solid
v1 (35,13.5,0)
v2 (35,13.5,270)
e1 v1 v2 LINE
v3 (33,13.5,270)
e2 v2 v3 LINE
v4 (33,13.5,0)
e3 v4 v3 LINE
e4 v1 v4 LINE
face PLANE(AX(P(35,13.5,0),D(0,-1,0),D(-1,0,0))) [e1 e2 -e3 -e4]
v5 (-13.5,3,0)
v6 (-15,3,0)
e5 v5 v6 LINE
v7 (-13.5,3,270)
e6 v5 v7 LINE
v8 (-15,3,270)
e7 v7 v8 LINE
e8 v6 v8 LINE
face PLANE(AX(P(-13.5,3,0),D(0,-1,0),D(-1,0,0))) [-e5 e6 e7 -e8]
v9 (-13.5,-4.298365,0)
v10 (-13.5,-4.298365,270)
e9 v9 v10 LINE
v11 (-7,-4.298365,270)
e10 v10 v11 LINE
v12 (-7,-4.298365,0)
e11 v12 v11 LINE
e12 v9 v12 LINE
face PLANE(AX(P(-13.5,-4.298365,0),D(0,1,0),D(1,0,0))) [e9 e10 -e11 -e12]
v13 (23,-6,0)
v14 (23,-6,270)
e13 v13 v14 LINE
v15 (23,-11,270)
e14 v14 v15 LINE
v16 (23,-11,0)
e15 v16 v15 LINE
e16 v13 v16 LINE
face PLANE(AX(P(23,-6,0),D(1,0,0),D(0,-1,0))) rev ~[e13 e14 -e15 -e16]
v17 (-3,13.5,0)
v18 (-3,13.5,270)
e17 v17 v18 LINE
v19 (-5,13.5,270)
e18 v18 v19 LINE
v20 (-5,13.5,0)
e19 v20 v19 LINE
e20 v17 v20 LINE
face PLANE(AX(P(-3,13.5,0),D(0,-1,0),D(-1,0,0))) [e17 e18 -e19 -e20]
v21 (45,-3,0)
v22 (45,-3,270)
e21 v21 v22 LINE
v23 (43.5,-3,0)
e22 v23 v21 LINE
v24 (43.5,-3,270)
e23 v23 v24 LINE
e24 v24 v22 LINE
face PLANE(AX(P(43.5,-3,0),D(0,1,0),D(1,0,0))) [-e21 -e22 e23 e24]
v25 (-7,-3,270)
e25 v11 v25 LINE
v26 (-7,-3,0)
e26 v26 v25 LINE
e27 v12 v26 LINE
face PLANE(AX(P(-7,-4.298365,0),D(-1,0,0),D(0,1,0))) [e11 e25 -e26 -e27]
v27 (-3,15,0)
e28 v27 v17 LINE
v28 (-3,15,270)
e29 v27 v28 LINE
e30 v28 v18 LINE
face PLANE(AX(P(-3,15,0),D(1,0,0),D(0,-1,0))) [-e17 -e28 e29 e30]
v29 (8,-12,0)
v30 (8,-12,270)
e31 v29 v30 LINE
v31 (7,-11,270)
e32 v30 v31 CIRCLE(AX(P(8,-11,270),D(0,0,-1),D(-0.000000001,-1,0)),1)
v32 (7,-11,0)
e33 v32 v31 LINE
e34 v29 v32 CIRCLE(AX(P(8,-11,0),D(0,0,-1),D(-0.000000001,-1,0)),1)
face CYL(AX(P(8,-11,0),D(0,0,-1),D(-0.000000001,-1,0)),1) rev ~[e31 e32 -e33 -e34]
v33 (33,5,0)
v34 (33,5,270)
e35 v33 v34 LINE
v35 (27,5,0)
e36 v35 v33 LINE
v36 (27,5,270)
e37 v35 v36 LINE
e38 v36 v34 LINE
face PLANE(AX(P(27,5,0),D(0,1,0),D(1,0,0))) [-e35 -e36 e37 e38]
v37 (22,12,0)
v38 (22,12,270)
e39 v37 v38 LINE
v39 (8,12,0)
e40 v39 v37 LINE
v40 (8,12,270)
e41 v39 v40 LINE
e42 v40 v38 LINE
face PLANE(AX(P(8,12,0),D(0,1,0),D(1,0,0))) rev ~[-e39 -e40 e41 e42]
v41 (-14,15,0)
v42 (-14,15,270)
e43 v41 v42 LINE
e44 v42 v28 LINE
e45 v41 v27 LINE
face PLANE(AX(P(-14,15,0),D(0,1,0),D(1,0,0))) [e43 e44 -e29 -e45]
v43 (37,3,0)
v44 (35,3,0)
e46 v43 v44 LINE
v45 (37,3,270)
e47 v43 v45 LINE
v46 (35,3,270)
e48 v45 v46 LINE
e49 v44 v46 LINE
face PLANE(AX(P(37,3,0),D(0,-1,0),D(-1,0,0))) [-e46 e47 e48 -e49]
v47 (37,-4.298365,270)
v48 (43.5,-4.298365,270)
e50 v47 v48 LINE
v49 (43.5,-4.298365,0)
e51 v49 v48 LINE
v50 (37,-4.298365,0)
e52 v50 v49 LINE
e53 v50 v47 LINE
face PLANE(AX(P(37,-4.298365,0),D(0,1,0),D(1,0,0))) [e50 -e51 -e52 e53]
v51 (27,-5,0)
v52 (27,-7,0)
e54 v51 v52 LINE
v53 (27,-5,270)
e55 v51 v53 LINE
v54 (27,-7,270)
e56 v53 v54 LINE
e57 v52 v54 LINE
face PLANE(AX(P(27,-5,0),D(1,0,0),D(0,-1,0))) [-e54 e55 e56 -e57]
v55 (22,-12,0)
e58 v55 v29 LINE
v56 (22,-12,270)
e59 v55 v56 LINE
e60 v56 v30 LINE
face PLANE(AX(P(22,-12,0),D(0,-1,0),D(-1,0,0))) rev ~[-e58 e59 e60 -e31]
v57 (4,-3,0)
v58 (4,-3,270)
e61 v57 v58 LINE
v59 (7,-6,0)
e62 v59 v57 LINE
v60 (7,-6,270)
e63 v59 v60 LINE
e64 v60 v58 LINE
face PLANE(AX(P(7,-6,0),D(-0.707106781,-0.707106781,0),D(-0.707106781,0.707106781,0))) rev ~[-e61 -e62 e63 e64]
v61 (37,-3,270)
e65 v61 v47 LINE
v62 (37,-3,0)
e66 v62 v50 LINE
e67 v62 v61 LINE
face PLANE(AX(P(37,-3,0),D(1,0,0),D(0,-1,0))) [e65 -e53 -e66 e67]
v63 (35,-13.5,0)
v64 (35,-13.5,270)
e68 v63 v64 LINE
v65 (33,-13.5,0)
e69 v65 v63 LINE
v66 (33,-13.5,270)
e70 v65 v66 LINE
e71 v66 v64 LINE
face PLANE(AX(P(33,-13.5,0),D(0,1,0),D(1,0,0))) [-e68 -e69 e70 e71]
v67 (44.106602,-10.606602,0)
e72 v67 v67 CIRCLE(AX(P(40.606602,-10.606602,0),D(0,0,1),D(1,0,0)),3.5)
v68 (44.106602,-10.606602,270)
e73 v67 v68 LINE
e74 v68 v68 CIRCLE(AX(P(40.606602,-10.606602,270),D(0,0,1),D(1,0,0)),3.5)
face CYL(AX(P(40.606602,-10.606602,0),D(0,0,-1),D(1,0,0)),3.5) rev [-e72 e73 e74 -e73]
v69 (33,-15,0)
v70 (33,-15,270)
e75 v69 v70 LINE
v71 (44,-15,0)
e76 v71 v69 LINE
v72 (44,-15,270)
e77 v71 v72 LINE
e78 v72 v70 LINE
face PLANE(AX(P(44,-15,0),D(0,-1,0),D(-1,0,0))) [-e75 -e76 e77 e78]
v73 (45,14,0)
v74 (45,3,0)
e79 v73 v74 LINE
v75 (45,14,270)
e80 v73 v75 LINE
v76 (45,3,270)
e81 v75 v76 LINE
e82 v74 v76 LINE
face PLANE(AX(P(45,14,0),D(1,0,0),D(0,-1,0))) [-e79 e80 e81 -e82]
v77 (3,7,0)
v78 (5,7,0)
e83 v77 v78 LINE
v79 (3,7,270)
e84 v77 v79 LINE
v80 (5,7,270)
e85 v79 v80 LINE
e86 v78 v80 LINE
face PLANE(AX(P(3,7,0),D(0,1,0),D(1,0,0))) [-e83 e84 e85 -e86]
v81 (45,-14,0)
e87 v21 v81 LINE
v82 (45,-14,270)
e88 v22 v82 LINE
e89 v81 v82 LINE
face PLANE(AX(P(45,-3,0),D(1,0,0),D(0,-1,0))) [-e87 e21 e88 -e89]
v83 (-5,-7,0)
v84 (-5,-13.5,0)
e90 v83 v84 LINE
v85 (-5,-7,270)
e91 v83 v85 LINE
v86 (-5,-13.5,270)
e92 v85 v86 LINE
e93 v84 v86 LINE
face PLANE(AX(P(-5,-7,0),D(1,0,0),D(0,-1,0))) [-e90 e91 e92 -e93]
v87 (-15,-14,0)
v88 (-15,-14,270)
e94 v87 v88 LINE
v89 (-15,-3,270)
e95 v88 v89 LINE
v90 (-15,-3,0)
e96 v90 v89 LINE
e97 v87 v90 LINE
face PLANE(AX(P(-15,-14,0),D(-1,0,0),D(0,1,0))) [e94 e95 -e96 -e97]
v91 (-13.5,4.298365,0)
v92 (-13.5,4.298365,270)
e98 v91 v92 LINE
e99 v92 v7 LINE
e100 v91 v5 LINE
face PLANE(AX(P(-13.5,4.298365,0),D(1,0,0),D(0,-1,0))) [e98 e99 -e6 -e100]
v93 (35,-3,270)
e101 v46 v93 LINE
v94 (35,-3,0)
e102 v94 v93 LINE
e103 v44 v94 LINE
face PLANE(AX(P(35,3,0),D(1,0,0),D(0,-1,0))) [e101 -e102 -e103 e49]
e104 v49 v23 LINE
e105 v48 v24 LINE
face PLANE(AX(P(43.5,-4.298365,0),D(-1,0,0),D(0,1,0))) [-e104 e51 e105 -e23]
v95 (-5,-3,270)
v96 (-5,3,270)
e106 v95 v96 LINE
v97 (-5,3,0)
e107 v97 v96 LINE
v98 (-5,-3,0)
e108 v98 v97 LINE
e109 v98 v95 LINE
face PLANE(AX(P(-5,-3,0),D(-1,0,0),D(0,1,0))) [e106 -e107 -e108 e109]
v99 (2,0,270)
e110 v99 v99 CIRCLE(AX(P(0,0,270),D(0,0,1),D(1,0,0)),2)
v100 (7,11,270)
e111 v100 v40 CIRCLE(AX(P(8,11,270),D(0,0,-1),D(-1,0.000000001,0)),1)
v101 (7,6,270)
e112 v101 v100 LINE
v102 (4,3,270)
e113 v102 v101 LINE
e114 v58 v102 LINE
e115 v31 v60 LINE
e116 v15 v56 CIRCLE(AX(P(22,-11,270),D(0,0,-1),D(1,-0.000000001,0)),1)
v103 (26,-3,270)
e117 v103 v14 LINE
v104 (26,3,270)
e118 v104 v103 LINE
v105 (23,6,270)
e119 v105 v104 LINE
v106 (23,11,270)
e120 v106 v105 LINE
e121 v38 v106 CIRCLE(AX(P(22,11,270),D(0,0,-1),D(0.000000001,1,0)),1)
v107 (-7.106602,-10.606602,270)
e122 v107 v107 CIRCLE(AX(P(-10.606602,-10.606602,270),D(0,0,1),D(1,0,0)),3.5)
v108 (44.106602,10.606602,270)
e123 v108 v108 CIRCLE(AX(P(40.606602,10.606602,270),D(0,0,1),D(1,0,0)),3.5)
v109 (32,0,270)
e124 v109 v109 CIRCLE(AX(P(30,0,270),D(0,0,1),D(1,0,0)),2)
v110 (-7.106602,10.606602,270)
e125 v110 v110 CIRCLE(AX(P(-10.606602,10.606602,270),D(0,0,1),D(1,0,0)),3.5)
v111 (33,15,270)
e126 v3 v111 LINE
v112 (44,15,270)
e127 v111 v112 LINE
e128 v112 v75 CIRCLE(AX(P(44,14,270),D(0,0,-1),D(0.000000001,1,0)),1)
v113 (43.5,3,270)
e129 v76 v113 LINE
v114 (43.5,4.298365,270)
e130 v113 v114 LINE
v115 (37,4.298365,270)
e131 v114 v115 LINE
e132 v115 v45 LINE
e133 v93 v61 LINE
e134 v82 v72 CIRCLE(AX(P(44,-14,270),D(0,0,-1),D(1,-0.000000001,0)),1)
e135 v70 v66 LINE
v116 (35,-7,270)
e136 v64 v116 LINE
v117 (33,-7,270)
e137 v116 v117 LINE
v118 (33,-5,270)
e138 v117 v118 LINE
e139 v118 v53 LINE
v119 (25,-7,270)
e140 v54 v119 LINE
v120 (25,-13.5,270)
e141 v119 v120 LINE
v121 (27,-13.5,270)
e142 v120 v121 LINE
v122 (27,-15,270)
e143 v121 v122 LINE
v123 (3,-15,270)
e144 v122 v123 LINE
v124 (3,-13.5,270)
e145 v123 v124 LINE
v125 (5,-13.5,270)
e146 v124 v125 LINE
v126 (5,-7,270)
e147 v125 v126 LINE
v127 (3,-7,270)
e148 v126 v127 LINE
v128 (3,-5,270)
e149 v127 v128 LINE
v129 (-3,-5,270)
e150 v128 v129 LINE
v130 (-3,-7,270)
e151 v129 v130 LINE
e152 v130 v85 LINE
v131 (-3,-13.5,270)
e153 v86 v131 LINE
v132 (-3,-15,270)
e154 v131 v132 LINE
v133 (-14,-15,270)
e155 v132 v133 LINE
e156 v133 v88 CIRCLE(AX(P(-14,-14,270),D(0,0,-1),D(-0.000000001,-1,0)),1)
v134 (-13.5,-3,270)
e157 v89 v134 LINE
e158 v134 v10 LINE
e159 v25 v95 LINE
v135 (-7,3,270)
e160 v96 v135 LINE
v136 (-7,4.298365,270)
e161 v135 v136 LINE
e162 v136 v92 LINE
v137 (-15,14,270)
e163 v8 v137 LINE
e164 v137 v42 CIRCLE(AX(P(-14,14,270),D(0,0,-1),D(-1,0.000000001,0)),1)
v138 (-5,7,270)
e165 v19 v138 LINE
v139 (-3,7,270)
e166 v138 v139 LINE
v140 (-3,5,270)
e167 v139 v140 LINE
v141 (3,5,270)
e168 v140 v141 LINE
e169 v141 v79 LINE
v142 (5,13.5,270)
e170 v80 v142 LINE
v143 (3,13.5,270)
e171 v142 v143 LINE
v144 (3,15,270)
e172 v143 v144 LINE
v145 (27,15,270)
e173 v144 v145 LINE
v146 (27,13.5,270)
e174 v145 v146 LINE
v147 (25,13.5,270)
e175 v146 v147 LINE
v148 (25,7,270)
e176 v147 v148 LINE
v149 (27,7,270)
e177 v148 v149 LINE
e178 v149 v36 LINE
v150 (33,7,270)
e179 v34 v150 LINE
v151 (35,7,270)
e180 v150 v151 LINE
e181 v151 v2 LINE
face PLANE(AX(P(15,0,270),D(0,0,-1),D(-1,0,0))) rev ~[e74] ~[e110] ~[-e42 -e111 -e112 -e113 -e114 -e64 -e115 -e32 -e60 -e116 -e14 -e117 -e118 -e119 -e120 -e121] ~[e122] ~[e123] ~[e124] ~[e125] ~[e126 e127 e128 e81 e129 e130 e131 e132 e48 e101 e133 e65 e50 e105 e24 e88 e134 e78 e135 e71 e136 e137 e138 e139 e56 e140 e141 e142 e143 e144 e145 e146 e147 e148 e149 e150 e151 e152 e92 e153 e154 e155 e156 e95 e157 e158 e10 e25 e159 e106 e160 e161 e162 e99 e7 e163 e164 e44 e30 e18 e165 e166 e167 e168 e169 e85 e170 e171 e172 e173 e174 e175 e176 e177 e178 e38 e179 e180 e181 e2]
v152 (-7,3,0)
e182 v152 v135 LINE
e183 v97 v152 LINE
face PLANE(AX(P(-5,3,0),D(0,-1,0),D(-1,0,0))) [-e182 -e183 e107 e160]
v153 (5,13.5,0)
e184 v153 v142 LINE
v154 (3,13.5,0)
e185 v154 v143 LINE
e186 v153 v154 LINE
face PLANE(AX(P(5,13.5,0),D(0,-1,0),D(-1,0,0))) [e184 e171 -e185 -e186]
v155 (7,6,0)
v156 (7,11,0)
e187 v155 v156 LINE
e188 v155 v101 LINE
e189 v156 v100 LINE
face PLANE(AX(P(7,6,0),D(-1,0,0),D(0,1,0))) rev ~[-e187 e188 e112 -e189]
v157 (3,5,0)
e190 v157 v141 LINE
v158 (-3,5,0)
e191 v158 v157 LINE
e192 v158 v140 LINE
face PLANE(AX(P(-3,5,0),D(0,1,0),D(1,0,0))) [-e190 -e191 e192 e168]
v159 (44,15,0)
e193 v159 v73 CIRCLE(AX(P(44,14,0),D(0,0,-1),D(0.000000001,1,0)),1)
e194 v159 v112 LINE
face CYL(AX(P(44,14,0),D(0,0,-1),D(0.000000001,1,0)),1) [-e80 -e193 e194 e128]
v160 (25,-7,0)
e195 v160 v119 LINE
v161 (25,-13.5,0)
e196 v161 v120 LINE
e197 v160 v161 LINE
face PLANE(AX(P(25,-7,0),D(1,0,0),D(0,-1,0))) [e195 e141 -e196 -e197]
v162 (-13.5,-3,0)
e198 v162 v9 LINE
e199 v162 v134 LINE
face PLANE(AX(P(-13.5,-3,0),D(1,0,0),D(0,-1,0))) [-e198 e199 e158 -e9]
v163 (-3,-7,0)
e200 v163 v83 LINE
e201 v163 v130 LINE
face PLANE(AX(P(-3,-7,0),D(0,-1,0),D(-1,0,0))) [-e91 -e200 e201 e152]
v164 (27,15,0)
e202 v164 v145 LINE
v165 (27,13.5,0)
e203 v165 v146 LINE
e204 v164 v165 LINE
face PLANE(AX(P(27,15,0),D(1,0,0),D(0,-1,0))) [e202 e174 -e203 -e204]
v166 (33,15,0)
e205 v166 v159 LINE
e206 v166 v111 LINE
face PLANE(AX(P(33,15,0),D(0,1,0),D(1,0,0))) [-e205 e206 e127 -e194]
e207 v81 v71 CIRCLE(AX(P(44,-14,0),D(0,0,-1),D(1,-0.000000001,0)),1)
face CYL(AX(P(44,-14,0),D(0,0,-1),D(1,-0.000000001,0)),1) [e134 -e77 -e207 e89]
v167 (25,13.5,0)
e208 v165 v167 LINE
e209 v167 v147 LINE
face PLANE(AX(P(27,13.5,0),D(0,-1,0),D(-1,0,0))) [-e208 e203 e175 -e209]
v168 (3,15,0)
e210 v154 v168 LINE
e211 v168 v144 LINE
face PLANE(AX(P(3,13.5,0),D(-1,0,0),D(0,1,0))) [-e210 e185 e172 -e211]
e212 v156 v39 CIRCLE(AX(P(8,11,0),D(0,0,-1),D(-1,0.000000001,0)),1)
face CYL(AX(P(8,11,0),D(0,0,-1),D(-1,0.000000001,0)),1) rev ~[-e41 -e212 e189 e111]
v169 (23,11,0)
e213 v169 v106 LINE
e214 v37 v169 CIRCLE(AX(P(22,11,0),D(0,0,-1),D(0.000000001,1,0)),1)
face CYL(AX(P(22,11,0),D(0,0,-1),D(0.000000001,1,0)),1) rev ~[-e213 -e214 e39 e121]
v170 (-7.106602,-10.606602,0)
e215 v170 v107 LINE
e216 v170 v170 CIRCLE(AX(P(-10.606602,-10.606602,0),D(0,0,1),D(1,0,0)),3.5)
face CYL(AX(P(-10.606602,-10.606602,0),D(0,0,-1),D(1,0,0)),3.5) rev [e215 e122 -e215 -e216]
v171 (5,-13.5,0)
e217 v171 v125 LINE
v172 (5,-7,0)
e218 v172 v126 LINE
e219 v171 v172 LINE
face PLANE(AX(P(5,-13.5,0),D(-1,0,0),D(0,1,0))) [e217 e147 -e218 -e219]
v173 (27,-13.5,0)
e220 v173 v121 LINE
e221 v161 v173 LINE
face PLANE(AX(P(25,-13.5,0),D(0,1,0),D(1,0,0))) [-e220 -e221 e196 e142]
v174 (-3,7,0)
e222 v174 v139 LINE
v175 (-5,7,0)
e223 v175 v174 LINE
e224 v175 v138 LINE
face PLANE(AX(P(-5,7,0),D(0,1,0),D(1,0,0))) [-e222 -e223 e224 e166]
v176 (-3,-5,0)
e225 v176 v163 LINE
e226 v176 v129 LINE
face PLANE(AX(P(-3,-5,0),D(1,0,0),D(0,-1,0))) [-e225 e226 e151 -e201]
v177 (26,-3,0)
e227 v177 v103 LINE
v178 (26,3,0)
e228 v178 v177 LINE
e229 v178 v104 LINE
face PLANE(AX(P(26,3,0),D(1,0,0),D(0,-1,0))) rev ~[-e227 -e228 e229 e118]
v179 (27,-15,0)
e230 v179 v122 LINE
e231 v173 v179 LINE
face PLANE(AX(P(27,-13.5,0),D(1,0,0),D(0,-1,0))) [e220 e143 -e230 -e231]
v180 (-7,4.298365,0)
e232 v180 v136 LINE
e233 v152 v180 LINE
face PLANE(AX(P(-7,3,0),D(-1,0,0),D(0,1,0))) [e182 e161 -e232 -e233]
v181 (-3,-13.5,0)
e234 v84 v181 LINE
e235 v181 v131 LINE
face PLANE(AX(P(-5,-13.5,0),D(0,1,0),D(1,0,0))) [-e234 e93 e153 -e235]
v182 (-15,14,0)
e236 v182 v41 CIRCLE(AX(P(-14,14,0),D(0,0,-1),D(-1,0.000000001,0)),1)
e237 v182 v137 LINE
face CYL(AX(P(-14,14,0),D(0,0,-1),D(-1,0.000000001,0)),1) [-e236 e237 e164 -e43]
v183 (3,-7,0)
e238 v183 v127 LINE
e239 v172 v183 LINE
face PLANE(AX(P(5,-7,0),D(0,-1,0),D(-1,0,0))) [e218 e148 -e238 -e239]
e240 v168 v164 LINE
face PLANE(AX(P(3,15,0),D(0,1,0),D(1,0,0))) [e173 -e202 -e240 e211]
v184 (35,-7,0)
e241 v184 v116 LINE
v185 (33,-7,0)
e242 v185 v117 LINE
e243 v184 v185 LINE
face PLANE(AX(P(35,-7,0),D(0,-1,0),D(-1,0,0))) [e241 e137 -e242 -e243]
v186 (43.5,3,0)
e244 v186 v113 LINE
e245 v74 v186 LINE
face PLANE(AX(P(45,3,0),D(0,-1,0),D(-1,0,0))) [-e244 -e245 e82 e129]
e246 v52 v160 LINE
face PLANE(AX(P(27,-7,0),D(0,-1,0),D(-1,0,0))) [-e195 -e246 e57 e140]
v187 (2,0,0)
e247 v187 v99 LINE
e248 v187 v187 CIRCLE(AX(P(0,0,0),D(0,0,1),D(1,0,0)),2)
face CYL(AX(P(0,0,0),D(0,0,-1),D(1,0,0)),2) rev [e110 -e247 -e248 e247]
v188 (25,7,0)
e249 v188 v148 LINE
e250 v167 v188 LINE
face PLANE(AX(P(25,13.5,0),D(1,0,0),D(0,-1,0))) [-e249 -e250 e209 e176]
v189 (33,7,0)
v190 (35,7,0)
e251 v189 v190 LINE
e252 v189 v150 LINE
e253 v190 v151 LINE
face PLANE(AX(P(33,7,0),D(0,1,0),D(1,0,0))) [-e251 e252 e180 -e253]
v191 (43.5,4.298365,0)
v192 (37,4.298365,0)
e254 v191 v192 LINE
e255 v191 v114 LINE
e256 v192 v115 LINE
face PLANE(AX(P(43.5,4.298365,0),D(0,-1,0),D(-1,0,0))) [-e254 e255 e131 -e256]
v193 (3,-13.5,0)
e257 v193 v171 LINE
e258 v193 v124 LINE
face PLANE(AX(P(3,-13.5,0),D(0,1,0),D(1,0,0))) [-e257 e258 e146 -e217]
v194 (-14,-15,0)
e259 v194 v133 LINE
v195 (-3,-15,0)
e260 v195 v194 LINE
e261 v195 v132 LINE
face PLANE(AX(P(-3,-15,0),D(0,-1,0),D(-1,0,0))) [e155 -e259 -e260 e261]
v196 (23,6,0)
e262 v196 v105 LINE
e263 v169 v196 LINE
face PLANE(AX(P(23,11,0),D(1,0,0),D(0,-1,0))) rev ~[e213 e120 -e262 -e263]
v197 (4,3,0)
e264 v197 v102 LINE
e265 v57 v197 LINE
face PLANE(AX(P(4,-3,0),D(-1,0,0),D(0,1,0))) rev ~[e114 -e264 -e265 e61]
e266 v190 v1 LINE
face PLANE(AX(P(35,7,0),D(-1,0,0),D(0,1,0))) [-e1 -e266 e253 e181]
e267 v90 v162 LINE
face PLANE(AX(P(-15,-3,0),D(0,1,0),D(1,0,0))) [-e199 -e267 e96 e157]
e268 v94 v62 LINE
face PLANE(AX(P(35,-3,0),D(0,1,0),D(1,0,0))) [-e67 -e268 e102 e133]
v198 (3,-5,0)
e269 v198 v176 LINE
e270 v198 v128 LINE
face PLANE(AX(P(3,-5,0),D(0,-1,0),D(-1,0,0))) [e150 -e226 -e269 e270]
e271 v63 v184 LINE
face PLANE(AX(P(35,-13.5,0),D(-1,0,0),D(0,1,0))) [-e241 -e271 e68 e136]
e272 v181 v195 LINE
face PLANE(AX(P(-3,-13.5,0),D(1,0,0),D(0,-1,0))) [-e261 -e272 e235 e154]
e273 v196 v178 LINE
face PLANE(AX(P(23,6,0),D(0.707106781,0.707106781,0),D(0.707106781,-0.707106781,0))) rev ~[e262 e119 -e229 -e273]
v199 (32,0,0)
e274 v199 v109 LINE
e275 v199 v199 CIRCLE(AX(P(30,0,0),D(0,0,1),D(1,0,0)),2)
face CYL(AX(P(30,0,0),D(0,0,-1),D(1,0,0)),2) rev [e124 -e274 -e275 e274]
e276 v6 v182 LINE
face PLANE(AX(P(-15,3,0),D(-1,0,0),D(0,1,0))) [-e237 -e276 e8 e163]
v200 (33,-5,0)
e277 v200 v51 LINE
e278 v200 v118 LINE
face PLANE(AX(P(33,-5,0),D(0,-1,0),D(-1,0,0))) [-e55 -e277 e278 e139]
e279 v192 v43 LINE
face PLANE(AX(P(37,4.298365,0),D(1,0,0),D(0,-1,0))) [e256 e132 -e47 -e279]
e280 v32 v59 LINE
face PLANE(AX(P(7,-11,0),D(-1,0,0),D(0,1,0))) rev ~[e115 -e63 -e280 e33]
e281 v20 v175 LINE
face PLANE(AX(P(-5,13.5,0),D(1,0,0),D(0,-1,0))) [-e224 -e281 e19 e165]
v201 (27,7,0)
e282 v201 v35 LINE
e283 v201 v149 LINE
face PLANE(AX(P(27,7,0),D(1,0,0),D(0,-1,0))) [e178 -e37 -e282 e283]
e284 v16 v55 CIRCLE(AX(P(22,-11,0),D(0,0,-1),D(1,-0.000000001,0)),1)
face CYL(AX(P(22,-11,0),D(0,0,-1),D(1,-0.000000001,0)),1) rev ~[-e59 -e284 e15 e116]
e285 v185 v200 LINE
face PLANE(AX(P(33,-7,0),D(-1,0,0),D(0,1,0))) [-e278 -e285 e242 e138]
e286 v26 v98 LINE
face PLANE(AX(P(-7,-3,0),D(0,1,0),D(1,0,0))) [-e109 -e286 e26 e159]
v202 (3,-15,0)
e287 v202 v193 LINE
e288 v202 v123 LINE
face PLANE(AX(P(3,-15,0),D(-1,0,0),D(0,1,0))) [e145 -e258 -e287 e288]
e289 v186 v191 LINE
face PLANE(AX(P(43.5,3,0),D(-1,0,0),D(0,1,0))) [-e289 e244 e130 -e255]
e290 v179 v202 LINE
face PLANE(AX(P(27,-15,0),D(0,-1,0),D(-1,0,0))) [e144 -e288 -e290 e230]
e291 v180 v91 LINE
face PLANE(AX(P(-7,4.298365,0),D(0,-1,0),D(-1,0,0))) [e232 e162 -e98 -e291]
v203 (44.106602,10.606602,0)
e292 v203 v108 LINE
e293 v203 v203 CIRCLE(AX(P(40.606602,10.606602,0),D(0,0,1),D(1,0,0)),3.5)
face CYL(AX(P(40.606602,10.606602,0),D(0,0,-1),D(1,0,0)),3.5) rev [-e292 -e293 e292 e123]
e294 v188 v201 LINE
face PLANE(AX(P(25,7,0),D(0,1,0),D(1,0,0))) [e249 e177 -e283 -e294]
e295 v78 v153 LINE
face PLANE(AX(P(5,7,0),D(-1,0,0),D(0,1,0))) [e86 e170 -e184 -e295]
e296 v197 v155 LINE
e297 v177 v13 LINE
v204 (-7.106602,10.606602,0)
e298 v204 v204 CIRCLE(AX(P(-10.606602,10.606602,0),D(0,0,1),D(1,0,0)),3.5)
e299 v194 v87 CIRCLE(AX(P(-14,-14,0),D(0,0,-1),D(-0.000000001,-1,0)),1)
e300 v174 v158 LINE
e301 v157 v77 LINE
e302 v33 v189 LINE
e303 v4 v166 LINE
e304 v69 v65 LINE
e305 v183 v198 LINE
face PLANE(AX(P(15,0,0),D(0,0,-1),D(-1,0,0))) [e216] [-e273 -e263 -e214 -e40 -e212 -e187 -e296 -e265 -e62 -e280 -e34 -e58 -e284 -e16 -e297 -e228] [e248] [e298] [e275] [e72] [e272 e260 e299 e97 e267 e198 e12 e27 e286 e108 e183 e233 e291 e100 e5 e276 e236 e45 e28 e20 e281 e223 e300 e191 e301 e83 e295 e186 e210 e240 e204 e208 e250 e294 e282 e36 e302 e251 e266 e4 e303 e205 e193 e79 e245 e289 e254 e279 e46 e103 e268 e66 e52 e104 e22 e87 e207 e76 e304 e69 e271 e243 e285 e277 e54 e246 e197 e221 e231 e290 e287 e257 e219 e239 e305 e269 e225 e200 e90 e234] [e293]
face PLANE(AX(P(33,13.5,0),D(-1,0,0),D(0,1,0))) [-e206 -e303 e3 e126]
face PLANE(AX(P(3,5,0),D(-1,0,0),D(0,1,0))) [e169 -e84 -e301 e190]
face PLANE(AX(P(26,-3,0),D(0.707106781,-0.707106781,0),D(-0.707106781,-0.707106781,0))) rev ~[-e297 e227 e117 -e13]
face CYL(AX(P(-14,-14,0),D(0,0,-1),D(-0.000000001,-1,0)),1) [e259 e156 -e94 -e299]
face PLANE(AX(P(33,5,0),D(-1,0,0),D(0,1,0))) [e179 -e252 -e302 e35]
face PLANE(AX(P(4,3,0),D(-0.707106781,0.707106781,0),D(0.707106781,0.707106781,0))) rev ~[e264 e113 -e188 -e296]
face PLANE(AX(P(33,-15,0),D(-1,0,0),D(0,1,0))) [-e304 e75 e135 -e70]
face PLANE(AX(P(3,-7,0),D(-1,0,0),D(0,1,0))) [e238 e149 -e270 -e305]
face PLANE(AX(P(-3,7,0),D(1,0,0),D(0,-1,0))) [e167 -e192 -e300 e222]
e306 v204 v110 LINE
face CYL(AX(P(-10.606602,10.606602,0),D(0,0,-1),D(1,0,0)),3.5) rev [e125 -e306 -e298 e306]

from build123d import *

# Parameters (mm, degrees)
SKETCH1_R           = 2
SKETCH1_R_2         = 3.5
BOSS_EXTRUDE1_DEPTH = 270


with BuildPart() as part:
    # Sketch1 → Boss-Extrude1 (new body)
    with BuildSketch(Plane.XY):
        with BuildLine():
            Line((-5, -3), (-5, 3))
            Line((-5, 3), (-7, 3))
            Line((-7, 3), (-7, 4.298364791))
            Line((-7, 4.298364791), (-13.5, 4.298364791))
            Line((-13.5, 4.298364791), (-13.5, 3))
            Line((-13.5, 3), (-15, 3))
            Line((-15, 3), (-15, 14))
            ThreePointArc((-15, 14), (-14.707106781, 14.707106781), (-14, 15))
            Line((-14, 15), (-3, 15))
            Line((-3, 15), (-3, 13.5))
            Line((-3, 13.5), (-5, 13.5))
            Line((-5, 13.5), (-5, 7))
            Line((-5, 7), (-3, 7))
            Line((-3, 7), (-3, 5))
            Line((-3, 5), (3, 5))
            Line((3, 5), (3, 7))
            Line((3, 7), (5, 7))
            Line((5, 7), (5, 13.5))
            Line((5, 13.5), (3, 13.5))
            Line((3, 13.5), (3, 15))
            Line((3, 15), (27, 15))
            Line((27, 15), (27, 13.5))
            Line((27, 13.5), (25, 13.5))
            Line((25, 13.5), (25, 7))
            Line((25, 7), (27, 7))
            Line((27, 7), (27, 5))
            Line((27, 5), (33, 5))
            Line((33, 5), (33, 7))
            Line((33, 7), (35, 7))
            Line((35, 7), (35, 13.5))
            Line((35, 13.5), (33, 13.5))
            Line((33, 13.5), (33, 15))
            Line((33, 15), (44, 15))
            ThreePointArc((44, 15), (44.707106781, 14.707106781), (45, 14))
            Line((45, 14), (45, 3))
            Line((45, 3), (43.5, 3))
            Line((43.5, 3), (43.5, 4.298364791))
            Line((43.5, 4.298364791), (37, 4.298364791))
            Line((37, 4.298364791), (37, 3))
            Line((37, 3), (35, 3))
            Line((35, 3), (35, -3))
            Line((35, -3), (37, -3))
            Line((37, -3), (37, -4.298364791))
            Line((37, -4.298364791), (43.5, -4.298364791))
            Line((43.5, -4.298364791), (43.5, -3))
            Line((43.5, -3), (45, -3))
            Line((45, -3), (45, -14))
            ThreePointArc((45, -14), (44.707106781, -14.707106781), (44, -15))
            Line((44, -15), (33, -15))
            Line((33, -15), (33, -13.5))
            Line((33, -13.5), (35, -13.5))
            Line((35, -13.5), (35, -7))
            Line((35, -7), (33, -7))
            Line((33, -7), (33, -5))
            Line((33, -5), (27, -5))
            Line((27, -5), (27, -7))
            Line((27, -7), (25, -7))
            Line((25, -7), (25, -13.5))
            Line((25, -13.5), (27, -13.5))
            Line((27, -13.5), (27, -15))
            Line((27, -15), (3, -15))
            Line((3, -15), (3, -13.5))
            Line((3, -13.5), (5, -13.5))
            Line((5, -13.5), (5, -7))
            Line((5, -7), (3, -7))
            Line((3, -7), (3, -5))
            Line((3, -5), (-3, -5))
            Line((-3, -5), (-3, -7))
            Line((-3, -7), (-5, -7))
            Line((-5, -7), (-5, -13.5))
            Line((-5, -13.5), (-3, -13.5))
            Line((-3, -13.5), (-3, -15))
            Line((-3, -15), (-14, -15))
            ThreePointArc((-14, -15), (-14.707106781, -14.707106781), (-15, -14))
            Line((-15, -14), (-15, -3))
            Line((-15, -3), (-13.5, -3))
            Line((-13.5, -3), (-13.5, -4.298364791))
            Line((-13.5, -4.298364791), (-7, -4.298364791))
            Line((-7, -4.298364791), (-7, -3))
            Line((-7, -3), (-5, -3))
        make_face()
        Circle(SKETCH1_R, mode=Mode.SUBTRACT)
        with Locations((-10.606601718, 10.606601718)):
            Circle(SKETCH1_R_2, mode=Mode.SUBTRACT)
        with Locations((40.606601718, 10.606601718)):
            Circle(SKETCH1_R_2, mode=Mode.SUBTRACT)
        with Locations((30, 0)):
            Circle(SKETCH1_R, mode=Mode.SUBTRACT)
        with Locations((40.606601718, -10.606601718)):
            Circle(SKETCH1_R_2, mode=Mode.SUBTRACT)
        with Locations((-10.606601718, -10.606601718)):
            Circle(SKETCH1_R_2, mode=Mode.SUBTRACT)
        with BuildLine():
            Line((4, -3), (4, 3))
            Line((4, 3), (7, 6))
            Line((7, 6), (7, 11))
            ThreePointArc((7, 11), (7.292893219, 11.707106781), (8, 12))
            Line((8, 12), (22, 12))
            ThreePointArc((22, 12), (22.707106781, 11.707106781), (23, 11))
            Line((23, 11), (23, 6))
            Line((23, 6), (26, 3))
            Line((26, 3), (26, -3))
            Line((26, -3), (23, -6))
            Line((23, -6), (23, -11))
            ThreePointArc((23, -11), (22.707106781, -11.707106781), (22, -12))
            Line((22, -12), (8, -12))
            ThreePointArc((8, -12), (7.292893219, -11.707106781), (7, -11))
            Line((7, -11), (7, -6))
            Line((7, -6), (4, -3))
        make_face(mode=Mode.SUBTRACT)
    extrude(amount=BOSS_EXTRUDE1_DEPTH)


solid = part.part
